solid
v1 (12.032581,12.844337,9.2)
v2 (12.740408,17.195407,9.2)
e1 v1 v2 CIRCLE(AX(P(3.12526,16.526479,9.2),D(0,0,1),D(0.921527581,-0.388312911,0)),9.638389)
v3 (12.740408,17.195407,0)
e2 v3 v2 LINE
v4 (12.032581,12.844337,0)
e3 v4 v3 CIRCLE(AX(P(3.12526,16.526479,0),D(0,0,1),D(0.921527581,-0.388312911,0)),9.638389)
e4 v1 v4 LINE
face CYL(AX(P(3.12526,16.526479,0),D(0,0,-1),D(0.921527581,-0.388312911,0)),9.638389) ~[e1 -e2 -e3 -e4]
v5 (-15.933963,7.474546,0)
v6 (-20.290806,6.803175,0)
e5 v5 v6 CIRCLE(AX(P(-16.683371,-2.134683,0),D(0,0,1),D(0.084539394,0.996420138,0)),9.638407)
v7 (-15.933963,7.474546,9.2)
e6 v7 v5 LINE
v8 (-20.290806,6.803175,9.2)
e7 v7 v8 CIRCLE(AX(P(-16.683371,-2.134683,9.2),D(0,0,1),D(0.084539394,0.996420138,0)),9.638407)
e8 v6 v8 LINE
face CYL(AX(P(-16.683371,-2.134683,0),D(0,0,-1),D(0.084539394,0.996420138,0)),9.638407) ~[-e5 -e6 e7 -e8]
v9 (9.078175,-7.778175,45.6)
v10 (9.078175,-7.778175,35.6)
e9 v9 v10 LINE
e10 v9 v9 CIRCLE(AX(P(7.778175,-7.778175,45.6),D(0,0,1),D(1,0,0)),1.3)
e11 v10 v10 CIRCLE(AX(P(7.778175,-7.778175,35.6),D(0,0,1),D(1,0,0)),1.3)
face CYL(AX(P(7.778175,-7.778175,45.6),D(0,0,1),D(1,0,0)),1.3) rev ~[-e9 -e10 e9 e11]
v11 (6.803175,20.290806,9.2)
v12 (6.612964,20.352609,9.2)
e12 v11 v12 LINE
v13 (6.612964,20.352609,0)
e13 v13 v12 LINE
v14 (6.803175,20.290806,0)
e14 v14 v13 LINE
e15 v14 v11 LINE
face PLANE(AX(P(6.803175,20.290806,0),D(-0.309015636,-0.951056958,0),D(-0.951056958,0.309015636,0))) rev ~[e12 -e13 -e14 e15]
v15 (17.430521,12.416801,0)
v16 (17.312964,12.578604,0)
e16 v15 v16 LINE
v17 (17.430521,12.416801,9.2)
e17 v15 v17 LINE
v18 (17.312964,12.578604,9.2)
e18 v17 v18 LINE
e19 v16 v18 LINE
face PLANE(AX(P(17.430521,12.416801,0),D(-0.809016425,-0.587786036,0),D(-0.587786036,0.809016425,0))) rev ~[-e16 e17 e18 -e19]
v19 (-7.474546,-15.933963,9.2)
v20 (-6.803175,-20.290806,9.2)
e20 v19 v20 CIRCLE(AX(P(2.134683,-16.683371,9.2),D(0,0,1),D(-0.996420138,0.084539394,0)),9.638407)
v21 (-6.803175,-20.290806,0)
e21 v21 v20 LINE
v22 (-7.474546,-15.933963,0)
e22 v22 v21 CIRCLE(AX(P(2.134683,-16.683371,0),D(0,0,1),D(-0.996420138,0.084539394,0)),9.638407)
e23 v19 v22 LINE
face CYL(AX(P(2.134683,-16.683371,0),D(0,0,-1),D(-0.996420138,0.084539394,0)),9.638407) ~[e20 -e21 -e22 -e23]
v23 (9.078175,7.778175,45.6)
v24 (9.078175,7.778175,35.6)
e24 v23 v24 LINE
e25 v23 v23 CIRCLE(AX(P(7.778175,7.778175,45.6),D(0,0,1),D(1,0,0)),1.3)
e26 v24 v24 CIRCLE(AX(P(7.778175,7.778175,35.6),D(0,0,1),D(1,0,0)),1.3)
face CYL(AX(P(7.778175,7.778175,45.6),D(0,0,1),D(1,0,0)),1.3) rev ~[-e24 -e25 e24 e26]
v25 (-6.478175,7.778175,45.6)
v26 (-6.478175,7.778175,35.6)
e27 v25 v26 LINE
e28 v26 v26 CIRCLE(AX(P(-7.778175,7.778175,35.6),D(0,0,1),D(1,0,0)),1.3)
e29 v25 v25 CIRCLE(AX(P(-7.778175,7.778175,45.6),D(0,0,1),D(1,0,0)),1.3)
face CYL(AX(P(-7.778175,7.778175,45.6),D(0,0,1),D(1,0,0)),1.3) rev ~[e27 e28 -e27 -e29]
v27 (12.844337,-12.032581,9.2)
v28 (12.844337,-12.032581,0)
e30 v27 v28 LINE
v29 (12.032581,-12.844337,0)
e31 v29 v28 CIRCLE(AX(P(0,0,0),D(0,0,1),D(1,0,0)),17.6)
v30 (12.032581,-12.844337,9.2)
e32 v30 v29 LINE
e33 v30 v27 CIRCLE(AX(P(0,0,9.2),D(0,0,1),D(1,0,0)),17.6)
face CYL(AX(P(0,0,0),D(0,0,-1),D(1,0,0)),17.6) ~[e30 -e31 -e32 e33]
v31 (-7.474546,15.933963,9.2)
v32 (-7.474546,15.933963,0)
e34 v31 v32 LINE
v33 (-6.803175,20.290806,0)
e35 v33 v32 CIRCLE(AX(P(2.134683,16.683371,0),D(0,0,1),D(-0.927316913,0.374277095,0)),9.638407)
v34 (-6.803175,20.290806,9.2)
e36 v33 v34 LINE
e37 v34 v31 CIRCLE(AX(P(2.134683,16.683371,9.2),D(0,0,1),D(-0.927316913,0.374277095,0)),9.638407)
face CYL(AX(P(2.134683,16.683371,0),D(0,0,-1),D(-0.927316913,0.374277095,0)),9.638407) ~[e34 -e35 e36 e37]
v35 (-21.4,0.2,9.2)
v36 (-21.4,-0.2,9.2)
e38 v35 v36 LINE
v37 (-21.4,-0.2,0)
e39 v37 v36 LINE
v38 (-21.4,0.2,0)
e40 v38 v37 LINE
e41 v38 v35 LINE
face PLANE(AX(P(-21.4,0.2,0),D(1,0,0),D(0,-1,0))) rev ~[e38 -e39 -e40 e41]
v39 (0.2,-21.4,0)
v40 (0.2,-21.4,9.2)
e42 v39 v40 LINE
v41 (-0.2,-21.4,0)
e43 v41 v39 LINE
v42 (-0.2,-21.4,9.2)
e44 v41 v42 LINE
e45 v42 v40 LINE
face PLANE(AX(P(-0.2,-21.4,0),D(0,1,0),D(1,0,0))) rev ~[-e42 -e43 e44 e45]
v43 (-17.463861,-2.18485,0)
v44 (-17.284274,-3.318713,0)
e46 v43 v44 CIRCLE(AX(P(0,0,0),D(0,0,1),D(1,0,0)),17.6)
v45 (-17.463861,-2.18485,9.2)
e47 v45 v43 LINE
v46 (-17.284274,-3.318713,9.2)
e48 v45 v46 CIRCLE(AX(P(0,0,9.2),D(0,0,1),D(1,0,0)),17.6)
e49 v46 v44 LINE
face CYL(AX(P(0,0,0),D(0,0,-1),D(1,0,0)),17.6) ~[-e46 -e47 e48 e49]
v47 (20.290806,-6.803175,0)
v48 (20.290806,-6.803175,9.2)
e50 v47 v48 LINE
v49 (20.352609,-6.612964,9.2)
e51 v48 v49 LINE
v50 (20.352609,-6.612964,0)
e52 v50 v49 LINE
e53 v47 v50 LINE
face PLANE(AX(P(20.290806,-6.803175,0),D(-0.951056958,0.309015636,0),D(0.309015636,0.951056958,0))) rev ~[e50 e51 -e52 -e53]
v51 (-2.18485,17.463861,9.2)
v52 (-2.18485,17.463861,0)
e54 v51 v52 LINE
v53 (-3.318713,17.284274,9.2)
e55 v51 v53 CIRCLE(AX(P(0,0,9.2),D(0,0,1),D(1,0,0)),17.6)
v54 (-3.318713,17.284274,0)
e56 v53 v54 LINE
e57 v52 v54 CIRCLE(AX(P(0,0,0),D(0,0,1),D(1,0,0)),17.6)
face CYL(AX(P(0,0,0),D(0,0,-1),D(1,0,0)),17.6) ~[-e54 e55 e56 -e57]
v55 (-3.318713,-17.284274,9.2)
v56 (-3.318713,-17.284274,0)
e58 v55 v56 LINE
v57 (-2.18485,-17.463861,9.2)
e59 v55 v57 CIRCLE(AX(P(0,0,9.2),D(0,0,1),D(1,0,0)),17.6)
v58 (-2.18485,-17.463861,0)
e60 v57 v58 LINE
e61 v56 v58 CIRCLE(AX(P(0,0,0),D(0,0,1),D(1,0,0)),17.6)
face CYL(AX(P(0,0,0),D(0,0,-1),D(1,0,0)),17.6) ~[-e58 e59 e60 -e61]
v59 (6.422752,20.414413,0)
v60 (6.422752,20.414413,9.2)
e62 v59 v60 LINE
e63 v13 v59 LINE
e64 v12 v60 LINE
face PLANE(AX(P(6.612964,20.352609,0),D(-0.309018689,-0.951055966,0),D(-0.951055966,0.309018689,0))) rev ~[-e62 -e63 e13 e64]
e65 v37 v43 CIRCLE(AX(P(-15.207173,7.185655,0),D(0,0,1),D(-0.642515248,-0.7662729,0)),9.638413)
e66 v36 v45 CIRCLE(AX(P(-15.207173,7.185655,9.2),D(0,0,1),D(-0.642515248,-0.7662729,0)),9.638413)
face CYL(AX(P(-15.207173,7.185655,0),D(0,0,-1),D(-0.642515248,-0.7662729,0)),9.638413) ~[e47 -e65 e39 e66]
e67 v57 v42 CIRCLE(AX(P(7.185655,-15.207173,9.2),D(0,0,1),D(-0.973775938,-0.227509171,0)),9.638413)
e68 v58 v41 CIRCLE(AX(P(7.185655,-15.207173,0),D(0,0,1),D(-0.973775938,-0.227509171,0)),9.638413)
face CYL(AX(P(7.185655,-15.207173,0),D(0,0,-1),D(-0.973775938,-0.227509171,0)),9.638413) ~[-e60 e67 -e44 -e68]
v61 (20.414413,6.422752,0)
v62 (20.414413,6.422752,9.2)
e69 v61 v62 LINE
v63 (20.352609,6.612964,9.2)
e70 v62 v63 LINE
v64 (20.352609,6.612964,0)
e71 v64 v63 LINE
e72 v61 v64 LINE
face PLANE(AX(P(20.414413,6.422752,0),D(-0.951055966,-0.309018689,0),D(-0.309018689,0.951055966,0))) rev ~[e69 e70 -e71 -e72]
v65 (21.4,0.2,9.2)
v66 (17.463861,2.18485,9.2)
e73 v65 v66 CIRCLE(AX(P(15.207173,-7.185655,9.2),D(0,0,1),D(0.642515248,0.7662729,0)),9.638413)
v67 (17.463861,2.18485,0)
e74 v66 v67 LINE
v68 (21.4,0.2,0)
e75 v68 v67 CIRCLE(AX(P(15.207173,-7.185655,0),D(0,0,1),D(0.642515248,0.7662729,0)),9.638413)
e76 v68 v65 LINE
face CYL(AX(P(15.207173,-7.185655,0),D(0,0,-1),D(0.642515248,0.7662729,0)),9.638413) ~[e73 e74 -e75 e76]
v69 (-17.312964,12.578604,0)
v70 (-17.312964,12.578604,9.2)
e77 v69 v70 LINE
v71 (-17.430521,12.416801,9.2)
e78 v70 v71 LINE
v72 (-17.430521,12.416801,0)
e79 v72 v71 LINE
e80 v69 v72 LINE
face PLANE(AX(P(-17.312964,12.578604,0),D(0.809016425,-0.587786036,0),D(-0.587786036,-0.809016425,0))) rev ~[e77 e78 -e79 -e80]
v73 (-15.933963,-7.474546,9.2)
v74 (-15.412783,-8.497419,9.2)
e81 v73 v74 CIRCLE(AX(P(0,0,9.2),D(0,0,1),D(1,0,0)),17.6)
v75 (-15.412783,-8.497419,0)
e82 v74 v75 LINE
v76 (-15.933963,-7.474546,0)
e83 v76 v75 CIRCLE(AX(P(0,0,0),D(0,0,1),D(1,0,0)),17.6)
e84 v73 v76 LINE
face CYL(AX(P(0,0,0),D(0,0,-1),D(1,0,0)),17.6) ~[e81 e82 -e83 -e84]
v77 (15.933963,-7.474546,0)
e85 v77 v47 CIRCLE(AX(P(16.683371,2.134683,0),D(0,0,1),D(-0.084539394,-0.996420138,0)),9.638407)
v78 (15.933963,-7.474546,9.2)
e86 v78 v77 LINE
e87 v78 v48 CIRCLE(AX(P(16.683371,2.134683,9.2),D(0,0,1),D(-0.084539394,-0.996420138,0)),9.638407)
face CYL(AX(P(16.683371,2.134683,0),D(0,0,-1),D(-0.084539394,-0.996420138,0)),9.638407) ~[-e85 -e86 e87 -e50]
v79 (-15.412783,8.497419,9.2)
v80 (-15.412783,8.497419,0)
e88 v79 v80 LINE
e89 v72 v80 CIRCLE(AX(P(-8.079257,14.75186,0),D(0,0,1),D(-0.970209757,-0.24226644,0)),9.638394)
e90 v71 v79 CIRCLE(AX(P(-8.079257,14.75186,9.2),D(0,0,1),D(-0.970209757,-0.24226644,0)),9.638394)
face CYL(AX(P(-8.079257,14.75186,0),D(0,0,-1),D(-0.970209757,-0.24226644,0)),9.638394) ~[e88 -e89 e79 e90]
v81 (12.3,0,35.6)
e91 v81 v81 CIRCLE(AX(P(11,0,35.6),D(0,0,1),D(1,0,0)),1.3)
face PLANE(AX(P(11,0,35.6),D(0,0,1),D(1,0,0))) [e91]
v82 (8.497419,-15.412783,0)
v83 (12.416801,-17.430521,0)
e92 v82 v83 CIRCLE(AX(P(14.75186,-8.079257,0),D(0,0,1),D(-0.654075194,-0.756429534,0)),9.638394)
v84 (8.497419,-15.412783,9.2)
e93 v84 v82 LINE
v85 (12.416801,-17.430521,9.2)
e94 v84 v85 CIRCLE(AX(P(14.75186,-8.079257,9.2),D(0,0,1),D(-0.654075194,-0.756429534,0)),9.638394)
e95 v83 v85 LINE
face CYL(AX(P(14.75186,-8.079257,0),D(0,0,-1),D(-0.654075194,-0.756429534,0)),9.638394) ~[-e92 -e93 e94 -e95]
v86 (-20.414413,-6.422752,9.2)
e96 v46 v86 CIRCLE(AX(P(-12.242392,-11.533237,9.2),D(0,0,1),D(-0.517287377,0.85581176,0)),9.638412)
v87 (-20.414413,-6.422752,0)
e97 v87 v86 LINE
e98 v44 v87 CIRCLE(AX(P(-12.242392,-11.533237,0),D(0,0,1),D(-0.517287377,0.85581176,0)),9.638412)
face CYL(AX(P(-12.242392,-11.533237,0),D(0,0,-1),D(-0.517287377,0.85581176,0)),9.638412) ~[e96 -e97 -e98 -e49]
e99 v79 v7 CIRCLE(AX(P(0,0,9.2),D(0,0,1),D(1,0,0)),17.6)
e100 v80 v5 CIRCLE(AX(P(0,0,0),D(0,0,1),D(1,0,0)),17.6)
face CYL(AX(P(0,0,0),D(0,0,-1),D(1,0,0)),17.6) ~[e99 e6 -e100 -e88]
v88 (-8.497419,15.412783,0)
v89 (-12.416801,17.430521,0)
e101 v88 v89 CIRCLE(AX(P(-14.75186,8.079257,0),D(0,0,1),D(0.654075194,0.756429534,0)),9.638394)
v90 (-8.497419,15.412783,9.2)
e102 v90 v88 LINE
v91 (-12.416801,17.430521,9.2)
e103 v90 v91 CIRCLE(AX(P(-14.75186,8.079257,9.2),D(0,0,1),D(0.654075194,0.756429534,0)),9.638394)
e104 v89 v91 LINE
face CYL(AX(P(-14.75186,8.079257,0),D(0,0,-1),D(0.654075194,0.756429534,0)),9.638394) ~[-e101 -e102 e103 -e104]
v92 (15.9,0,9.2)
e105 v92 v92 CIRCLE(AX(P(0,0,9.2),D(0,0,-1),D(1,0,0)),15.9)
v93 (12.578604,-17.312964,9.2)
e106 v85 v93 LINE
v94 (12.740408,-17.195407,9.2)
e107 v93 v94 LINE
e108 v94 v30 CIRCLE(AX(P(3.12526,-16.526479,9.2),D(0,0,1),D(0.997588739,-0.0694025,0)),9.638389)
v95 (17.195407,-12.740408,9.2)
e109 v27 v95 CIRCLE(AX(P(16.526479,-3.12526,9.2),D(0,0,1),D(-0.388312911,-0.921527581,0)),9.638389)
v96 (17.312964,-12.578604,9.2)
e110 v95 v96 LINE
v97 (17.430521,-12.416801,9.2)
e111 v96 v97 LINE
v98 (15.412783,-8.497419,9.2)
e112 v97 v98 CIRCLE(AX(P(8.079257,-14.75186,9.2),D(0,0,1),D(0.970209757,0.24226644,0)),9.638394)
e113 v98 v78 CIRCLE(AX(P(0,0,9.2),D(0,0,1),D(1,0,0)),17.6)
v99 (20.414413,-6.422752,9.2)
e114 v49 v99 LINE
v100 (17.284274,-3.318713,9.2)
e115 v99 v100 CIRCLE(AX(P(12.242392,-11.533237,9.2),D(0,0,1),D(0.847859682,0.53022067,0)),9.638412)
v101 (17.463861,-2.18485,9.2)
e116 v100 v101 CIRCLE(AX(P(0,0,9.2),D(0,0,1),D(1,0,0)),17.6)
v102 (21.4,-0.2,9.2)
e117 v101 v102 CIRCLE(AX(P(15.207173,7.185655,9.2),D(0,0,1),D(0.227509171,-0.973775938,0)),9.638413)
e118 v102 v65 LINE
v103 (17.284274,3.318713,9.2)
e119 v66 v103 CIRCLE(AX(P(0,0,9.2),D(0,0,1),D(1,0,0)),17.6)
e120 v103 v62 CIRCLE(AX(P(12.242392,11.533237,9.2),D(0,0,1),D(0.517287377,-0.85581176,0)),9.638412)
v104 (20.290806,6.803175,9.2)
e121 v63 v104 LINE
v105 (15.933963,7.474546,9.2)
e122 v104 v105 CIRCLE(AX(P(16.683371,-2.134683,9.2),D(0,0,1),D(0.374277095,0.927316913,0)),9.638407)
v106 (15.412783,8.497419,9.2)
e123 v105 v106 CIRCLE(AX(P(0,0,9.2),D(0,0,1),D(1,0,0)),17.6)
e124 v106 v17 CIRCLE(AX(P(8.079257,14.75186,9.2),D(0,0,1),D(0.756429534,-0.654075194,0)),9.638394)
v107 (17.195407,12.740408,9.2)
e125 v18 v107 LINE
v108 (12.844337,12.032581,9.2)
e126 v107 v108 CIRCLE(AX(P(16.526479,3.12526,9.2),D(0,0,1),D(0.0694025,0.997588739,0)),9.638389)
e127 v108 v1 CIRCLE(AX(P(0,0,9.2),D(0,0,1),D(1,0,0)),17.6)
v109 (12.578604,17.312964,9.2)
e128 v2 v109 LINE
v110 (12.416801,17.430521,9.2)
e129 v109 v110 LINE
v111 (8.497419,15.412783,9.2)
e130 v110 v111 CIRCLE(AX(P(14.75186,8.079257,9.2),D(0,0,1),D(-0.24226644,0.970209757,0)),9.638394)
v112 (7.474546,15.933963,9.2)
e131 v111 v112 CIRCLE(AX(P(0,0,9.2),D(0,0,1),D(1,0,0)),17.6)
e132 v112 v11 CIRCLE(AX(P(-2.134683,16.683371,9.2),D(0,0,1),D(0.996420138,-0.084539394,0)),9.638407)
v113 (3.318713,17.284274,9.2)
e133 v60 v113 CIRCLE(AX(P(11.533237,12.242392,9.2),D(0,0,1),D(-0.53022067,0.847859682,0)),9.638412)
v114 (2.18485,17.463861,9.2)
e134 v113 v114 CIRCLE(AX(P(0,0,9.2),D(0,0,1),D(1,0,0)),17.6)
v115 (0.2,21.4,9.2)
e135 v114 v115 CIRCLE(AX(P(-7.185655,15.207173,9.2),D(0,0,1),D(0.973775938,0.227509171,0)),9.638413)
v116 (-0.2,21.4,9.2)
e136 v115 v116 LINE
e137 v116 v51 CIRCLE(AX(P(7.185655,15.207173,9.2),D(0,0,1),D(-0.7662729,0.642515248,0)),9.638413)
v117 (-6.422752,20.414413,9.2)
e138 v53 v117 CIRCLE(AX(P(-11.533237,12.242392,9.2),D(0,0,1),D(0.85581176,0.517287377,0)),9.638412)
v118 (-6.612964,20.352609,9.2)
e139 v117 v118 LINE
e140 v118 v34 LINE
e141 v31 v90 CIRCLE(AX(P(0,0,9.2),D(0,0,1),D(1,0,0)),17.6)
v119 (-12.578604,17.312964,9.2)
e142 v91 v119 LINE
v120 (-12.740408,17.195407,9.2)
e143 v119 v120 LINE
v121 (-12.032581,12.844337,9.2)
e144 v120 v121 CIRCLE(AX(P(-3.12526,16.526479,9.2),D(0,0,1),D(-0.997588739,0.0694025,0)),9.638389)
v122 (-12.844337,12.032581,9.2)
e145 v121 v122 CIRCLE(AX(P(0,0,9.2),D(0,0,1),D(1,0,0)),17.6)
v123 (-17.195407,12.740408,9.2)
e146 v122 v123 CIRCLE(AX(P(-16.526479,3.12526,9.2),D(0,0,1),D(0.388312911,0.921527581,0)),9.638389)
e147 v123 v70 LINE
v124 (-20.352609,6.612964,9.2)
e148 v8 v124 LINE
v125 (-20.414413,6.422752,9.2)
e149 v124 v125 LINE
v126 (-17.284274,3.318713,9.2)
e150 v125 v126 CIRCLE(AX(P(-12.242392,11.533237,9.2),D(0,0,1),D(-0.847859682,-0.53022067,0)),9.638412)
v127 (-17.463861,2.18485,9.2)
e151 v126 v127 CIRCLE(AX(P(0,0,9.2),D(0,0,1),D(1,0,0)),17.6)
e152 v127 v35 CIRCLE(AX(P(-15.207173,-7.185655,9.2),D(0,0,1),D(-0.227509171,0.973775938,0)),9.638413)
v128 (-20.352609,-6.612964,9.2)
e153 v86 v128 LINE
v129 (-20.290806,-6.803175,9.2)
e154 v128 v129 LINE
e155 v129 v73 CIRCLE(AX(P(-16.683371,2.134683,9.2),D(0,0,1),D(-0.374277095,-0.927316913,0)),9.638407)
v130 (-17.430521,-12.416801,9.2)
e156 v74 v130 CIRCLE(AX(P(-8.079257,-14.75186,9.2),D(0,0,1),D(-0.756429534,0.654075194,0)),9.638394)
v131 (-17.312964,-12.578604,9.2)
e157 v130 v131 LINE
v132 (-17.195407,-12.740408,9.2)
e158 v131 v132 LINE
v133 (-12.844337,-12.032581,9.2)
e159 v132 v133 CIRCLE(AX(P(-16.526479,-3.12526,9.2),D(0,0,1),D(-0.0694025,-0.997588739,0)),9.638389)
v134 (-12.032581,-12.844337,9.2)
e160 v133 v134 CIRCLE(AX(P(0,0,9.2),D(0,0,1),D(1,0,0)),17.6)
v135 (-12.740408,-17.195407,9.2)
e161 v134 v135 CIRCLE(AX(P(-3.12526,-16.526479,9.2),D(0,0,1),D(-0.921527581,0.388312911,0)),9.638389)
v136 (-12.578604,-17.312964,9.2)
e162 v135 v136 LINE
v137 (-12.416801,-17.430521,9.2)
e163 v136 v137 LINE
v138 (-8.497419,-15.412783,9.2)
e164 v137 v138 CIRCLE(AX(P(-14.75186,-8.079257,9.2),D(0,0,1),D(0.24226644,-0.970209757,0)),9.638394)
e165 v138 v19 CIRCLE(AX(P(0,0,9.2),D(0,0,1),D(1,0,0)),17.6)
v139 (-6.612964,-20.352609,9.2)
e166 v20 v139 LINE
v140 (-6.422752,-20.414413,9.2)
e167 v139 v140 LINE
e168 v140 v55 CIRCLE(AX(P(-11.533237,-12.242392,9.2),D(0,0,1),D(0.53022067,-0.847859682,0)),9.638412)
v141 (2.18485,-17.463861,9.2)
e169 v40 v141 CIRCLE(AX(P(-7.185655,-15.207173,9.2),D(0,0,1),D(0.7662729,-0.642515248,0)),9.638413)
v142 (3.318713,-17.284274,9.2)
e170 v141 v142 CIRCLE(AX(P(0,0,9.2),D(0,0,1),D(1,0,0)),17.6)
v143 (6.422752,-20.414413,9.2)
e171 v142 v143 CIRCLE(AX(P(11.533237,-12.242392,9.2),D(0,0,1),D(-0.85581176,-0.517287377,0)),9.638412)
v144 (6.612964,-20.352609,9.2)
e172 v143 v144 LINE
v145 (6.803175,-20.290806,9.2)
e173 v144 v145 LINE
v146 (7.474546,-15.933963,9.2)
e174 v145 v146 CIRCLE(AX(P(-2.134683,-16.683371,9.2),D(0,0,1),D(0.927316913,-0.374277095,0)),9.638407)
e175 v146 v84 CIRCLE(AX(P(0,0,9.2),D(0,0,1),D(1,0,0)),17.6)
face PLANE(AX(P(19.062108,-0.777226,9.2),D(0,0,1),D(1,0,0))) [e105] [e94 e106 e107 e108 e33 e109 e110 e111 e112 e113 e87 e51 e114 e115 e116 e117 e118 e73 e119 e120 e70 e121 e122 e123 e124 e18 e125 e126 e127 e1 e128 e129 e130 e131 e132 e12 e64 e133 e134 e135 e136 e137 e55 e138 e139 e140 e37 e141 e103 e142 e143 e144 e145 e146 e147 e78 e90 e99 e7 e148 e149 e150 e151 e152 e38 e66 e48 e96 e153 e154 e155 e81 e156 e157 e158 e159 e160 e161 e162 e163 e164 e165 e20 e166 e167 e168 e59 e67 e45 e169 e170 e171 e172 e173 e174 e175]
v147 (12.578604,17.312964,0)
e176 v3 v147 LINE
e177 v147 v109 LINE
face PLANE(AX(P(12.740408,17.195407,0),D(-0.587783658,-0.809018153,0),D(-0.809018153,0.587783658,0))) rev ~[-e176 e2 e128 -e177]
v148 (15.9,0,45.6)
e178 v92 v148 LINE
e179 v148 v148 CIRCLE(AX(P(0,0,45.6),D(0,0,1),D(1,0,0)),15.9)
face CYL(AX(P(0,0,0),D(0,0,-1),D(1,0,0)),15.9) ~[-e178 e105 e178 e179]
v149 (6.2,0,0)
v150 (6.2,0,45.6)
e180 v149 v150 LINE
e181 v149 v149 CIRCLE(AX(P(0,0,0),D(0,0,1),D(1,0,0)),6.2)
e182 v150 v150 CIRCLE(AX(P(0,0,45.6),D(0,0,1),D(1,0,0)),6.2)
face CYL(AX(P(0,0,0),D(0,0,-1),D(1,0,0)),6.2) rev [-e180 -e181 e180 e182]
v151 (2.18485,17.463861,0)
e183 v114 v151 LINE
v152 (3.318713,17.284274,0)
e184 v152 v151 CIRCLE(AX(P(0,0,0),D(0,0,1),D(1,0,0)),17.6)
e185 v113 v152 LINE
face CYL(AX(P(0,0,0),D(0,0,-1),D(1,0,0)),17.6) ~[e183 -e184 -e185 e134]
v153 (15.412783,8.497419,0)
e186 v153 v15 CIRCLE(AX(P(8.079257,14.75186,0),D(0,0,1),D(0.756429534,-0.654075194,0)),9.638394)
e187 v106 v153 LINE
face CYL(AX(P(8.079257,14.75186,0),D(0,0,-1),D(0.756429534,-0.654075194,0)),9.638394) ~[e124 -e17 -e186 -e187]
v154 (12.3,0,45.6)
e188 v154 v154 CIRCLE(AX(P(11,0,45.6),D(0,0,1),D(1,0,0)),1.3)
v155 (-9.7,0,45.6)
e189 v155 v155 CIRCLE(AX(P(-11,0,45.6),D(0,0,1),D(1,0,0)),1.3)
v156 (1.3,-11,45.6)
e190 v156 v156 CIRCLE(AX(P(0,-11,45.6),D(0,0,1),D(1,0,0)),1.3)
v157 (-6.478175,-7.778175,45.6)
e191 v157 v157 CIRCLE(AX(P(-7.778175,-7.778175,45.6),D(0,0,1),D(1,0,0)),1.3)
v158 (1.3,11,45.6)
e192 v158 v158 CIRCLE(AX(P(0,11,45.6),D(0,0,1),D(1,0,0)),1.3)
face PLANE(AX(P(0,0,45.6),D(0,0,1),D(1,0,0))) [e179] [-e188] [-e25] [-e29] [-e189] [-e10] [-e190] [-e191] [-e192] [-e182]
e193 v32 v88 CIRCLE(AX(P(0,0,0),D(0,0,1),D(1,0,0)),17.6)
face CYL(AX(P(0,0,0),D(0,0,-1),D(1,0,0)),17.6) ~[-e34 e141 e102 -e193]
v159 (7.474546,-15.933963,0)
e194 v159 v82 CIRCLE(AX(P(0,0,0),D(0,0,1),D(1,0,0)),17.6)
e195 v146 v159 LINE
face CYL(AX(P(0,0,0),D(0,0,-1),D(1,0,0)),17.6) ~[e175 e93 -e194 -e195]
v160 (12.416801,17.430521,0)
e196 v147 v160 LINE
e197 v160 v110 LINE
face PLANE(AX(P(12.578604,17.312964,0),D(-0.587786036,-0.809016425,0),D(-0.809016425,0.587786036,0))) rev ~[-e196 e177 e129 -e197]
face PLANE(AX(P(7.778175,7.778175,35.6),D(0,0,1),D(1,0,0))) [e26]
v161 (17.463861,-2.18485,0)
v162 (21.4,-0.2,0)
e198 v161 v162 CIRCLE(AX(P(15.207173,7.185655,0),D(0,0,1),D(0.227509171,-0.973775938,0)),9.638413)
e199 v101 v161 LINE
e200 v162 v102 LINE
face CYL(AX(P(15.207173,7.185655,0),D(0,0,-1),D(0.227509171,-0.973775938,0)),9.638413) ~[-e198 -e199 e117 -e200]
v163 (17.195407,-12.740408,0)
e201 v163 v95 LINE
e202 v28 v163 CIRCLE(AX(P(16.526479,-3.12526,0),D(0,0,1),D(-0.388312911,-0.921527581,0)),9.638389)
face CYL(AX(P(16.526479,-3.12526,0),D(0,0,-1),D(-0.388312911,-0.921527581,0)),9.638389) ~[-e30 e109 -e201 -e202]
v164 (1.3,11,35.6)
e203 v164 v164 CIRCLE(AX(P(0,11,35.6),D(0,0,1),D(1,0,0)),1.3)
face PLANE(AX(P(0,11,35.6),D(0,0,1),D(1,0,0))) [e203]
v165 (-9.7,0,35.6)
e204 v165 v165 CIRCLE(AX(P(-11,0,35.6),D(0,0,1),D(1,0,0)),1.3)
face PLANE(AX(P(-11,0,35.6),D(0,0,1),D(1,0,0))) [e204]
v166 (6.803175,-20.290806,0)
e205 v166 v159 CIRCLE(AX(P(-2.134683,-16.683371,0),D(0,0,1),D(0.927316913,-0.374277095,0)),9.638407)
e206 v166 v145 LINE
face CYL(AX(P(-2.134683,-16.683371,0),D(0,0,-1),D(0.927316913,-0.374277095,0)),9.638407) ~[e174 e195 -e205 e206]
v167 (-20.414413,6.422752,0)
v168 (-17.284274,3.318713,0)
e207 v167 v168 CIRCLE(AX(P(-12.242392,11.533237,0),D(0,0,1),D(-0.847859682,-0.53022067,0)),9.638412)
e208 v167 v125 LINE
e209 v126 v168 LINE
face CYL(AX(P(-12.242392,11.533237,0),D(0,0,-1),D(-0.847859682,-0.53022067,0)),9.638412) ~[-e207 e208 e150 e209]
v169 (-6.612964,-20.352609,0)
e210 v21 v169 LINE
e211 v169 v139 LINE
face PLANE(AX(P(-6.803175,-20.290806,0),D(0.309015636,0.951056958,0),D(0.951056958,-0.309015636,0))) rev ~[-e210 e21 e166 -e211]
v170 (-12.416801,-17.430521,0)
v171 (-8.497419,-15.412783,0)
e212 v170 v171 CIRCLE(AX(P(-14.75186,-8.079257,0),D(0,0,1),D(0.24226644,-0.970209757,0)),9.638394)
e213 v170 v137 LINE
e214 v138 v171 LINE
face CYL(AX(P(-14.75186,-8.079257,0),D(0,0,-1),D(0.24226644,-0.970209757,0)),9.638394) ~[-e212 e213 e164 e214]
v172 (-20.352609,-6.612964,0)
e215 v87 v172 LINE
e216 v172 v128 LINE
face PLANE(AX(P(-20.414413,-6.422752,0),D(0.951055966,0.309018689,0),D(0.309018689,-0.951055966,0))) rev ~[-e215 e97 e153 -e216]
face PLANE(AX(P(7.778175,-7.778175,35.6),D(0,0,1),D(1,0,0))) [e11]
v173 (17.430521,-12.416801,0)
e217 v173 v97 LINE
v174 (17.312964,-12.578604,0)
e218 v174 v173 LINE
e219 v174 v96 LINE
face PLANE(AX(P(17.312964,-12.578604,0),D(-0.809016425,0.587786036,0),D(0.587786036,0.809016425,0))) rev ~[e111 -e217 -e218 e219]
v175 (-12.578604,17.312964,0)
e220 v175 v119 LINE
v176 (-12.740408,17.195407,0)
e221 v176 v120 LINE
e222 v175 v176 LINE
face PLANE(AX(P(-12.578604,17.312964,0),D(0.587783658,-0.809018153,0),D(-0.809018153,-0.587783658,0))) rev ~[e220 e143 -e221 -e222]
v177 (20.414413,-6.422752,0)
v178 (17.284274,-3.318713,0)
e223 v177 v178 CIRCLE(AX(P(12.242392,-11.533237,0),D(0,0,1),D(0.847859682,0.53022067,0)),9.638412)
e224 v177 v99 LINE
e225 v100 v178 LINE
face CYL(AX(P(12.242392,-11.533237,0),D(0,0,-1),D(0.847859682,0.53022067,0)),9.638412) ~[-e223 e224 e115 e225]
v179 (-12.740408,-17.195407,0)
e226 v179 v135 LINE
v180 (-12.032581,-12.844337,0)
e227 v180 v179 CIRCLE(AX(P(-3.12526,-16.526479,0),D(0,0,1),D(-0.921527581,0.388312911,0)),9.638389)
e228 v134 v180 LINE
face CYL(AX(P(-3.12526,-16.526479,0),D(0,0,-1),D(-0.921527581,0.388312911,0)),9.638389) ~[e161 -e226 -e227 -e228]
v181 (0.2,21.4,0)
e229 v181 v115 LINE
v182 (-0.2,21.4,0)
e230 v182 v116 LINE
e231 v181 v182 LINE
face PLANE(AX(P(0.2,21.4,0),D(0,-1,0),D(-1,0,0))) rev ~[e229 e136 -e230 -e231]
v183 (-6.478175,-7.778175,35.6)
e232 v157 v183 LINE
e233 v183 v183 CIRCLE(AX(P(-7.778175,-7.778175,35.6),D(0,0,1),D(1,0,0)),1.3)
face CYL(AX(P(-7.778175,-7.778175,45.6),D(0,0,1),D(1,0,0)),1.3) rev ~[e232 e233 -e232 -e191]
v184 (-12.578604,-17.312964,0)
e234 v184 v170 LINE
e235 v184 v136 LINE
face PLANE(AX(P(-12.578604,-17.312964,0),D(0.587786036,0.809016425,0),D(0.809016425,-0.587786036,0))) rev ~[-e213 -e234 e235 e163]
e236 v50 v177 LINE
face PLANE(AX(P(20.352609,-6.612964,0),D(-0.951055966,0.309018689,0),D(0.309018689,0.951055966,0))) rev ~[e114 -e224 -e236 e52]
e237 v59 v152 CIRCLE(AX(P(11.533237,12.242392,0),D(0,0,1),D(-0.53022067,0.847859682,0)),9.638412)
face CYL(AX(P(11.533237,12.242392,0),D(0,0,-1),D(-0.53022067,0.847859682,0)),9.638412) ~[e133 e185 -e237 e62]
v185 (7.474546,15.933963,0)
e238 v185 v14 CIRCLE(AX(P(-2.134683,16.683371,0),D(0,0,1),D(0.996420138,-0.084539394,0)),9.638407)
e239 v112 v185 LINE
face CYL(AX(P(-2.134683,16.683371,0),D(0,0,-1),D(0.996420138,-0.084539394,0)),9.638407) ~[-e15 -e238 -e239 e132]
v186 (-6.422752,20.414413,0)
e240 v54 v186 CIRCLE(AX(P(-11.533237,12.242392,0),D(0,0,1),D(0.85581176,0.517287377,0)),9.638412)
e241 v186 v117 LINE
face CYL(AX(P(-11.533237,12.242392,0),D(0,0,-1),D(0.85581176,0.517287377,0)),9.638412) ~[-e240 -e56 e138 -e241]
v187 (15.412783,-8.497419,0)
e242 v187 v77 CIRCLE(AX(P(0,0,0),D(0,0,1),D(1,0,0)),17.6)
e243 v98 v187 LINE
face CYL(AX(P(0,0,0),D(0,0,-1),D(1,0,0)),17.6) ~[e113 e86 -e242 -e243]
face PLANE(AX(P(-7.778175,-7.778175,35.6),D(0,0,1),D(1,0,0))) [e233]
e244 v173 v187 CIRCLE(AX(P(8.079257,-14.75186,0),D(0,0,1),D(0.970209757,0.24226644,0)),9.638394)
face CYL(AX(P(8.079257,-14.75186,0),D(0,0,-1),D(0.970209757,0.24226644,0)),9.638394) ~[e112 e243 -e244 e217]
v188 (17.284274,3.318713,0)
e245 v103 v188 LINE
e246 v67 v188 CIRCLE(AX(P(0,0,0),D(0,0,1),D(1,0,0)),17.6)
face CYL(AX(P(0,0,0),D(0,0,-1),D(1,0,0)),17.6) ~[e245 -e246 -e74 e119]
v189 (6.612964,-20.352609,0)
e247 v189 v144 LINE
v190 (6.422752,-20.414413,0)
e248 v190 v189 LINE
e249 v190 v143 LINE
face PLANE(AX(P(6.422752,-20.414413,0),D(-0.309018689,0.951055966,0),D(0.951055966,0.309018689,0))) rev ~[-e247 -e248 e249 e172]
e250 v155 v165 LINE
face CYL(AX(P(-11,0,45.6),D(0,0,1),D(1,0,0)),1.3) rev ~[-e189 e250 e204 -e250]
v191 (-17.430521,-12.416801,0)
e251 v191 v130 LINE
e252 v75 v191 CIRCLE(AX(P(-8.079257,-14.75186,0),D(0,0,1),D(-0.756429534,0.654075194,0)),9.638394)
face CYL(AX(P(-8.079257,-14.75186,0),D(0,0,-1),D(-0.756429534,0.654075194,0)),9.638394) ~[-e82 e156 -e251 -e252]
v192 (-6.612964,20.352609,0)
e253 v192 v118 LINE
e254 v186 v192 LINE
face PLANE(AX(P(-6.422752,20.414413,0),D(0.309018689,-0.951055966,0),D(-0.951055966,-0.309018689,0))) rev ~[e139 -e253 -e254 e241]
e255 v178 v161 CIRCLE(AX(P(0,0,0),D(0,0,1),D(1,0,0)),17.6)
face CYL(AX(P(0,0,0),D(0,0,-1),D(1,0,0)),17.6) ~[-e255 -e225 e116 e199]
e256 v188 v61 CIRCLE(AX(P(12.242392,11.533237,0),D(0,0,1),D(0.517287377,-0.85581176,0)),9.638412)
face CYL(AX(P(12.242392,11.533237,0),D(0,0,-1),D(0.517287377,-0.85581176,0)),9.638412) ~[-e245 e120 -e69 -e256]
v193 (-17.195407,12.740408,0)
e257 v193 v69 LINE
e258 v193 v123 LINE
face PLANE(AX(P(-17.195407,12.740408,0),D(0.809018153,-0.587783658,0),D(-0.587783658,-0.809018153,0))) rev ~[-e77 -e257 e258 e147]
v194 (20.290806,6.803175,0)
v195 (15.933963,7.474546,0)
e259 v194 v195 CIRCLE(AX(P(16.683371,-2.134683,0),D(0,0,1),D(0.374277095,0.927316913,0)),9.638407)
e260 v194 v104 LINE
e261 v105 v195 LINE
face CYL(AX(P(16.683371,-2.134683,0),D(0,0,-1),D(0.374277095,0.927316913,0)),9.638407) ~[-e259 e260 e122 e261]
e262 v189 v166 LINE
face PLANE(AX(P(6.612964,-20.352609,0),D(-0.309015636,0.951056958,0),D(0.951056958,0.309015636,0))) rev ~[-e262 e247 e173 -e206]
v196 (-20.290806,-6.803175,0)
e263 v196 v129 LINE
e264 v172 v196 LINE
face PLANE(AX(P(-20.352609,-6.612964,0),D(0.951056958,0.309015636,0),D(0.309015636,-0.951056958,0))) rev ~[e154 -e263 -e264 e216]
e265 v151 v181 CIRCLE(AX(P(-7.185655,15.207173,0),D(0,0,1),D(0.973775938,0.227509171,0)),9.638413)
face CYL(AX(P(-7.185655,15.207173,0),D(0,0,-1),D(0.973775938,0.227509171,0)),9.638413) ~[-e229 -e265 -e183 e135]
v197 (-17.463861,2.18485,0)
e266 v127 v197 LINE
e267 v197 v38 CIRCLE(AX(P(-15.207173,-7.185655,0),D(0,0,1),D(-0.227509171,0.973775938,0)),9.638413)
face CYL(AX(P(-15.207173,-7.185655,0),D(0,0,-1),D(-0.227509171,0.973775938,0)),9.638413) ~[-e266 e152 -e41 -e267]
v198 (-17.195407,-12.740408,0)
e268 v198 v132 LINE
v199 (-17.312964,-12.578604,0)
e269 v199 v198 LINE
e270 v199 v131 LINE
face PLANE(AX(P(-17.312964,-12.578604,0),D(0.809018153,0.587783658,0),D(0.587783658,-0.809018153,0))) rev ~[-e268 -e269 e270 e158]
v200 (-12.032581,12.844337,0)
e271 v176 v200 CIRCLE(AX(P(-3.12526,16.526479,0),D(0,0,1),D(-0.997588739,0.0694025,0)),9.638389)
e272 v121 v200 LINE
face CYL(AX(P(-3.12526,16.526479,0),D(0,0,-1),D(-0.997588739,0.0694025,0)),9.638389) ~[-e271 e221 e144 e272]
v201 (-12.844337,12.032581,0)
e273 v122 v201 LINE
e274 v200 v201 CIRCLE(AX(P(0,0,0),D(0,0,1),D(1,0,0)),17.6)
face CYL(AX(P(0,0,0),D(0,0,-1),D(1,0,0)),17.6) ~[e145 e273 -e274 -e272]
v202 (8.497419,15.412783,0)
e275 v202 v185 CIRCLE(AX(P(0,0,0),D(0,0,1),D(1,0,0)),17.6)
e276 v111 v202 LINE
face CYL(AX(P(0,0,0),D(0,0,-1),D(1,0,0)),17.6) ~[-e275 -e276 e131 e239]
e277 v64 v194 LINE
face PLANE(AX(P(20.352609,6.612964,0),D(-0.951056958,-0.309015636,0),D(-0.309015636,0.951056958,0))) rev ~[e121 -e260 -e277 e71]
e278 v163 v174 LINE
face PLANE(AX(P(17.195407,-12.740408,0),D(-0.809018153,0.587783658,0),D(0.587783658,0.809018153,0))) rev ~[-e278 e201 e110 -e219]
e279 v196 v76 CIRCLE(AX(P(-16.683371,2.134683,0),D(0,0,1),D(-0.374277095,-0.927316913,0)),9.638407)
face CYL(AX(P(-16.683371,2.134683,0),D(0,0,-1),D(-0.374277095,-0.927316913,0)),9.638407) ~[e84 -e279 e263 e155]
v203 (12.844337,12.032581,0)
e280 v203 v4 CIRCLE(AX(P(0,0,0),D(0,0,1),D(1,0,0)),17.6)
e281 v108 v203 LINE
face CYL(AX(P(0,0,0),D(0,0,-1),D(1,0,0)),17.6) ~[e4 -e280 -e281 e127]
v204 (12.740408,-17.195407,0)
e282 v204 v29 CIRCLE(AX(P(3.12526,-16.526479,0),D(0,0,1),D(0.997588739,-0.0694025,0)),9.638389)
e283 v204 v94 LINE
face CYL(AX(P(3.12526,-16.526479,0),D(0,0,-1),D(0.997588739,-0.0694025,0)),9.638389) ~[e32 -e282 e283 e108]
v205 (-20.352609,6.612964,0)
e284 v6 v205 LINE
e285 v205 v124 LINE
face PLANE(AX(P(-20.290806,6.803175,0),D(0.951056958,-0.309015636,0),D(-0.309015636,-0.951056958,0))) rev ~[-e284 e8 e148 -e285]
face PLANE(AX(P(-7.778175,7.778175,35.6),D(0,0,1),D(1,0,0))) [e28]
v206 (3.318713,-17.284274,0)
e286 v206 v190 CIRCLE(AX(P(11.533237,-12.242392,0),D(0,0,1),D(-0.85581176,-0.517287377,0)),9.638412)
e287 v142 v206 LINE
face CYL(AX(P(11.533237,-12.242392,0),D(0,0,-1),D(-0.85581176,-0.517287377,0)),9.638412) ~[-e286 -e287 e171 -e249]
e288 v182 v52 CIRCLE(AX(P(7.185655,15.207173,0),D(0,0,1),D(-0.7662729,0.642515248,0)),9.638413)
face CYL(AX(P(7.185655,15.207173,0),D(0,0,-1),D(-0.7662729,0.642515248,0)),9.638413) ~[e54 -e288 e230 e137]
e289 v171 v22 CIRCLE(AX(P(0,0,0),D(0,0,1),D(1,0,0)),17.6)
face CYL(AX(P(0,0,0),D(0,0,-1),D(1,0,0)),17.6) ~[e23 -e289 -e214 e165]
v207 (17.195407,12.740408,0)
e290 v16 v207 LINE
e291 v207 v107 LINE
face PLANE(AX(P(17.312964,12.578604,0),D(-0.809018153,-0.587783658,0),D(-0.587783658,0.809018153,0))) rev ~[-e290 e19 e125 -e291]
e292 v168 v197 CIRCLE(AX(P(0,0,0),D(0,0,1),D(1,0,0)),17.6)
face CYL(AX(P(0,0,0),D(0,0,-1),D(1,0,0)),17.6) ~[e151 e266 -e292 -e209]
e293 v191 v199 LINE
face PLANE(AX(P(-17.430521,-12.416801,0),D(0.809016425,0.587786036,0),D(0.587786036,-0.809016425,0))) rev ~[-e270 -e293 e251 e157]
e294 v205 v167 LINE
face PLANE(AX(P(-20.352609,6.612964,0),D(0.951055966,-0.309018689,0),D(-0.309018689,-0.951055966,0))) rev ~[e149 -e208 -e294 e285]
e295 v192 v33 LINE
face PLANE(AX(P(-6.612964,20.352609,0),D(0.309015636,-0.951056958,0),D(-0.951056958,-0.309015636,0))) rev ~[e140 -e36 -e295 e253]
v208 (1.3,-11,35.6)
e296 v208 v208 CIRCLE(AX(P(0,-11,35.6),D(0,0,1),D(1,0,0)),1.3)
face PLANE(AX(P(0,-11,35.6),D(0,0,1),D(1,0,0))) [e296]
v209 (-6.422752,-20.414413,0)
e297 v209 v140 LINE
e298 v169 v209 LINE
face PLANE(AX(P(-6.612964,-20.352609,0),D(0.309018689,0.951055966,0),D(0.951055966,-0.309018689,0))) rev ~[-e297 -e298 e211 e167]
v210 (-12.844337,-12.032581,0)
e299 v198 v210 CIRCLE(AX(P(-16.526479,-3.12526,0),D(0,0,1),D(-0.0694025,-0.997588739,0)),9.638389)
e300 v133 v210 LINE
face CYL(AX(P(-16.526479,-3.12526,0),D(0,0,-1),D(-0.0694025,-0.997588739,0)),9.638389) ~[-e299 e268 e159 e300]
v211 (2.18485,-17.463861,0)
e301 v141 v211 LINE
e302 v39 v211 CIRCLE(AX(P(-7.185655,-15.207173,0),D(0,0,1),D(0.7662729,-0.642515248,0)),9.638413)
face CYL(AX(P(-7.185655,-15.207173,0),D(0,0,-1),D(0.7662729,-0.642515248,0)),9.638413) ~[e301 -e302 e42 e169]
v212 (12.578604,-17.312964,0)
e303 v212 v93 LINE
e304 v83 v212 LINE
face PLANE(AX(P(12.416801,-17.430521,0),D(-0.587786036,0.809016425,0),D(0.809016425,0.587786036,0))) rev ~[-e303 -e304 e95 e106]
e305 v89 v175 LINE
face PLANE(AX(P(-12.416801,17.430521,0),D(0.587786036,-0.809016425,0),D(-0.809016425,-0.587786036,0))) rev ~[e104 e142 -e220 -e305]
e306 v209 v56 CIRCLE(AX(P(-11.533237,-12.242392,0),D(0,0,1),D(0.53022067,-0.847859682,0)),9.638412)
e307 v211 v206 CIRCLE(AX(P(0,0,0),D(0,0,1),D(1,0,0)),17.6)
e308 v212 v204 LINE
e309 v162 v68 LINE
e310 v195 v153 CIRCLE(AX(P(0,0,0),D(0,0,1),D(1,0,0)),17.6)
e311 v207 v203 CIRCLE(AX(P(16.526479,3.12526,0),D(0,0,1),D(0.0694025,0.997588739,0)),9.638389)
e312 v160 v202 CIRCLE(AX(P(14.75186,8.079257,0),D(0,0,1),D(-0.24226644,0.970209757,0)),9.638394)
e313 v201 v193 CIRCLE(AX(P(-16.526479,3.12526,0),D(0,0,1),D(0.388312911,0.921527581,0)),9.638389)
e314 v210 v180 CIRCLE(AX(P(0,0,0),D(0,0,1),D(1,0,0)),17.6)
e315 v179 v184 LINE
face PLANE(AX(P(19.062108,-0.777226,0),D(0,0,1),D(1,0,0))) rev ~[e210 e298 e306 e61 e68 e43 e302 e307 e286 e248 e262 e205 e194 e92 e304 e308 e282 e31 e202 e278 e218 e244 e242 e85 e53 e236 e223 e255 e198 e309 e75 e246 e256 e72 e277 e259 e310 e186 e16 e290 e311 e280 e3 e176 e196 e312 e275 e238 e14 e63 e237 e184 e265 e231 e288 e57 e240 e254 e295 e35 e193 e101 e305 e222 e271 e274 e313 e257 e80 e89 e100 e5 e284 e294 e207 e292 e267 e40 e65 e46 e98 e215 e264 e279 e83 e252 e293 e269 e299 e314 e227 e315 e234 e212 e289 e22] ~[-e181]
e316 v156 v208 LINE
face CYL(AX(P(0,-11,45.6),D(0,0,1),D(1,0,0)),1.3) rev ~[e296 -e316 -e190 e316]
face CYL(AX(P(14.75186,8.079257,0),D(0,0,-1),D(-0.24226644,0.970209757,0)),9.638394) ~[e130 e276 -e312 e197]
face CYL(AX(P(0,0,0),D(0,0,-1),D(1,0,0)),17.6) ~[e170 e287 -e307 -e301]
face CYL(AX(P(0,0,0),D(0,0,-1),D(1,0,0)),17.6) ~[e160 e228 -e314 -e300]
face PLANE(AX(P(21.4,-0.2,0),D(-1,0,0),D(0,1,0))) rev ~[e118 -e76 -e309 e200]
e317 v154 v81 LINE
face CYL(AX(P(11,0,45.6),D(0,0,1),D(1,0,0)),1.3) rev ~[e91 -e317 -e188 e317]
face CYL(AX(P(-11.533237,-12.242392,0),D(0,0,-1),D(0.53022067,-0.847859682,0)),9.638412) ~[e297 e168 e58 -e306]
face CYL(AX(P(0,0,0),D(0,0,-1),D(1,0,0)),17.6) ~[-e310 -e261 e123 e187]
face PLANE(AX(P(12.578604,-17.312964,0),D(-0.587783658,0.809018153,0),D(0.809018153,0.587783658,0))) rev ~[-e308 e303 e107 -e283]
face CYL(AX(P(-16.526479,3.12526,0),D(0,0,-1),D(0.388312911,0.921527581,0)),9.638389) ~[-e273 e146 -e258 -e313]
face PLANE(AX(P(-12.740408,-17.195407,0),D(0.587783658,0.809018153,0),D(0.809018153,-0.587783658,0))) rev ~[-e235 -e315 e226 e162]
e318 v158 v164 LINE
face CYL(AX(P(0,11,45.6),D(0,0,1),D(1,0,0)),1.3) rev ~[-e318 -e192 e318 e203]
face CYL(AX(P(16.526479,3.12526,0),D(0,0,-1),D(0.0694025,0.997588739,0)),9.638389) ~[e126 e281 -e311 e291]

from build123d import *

# Parameters (mm, degrees)
F0_R     = 15.9
F0_R_2   = 6.2
F1_DEPTH = 45.6
F2_R     = 1.3
F3_DEPTH = 10
F4_R     = 17.6
F4_R_2   = 6.2
F5_DEPTH = 9.2
F7_DEPTH = 9.2


with BuildPart() as f1:
    # F0 (on Top) → F1 (new body)
    with BuildSketch(Plane.XY):
        Circle(F0_R)
        Circle(F0_R_2, mode=Mode.SUBTRACT)
    extrude(amount=F1_DEPTH)

    # F2 (on face) → F3 (cut)
    with BuildSketch(Plane.XY.offset(45.6)):
        with Locations((11, 0)):
            Circle(F2_R)
        with Locations((7.778175, 7.778175)):
            Circle(F2_R)
        with Locations((0, 11)):
            Circle(F2_R)
        with Locations((-7.778175, 7.778175)):
            Circle(F2_R)
        with Locations((-11, 0)):
            Circle(F2_R)
        with Locations((-7.778175, -7.778175)):
            Circle(F2_R)
        with Locations((0, -11)):
            Circle(F2_R)
        with Locations((7.778175, -7.778175)):
            Circle(F2_R)
    extrude(amount=-F3_DEPTH, mode=Mode.SUBTRACT)

    # F4 (on Top) → F5 (join)
    with BuildSketch(Plane.XY):
        Circle(F4_R)
        Circle(F4_R_2, mode=Mode.SUBTRACT)
    extrude(amount=F5_DEPTH)

    # F6 (on Top) → F7 (join)
    with BuildSketch(Plane.XY):
        with BuildLine():
            Line((21.4, -0.2), (21.4, 0))
            Line((21.4, 0), (17.4, 0))
            Line((17.4, 0), (17.4, -2.2))
            ThreePointArc((17.4, -2.2), (19.517602, -1.435204), (21.4, -0.2))
        make_face()
        with BuildLine():
            Line((17.4, 0), (21.4, 0))
            Line((21.4, 0), (21.4, 0.2))
            ThreePointArc((21.4, 0.2), (19.517602, 1.435204), (17.4, 2.2))
            Line((17.4, 2.2), (17.4, 0))
        make_face()
        with BuildLine():
            Line((20.352609, 6.612964), (16.548383, 5.376896))
            Line((16.548383, 5.376896), (17.228221, 3.284571))
            ThreePointArc((17.228221, 3.284571), (19.005845, 4.66631), (20.414413, 6.422752))
            Line((20.414413, 6.422752), (20.352609, 6.612964))
        make_face()
        with BuildLine():
            Line((15.868546, 7.46922), (16.548383, 5.376896))
            Line((16.548383, 5.376896), (20.352609, 6.612964))
            Line((20.352609, 6.612964), (20.290806, 6.803175))
            ThreePointArc((20.290806, 6.803175), (18.11884, 7.396231), (15.868546, 7.46922))
        make_face()
        with BuildLine():
            Line((17.312964, 12.578604), (14.076896, 10.227463))
            Line((14.076896, 10.227463), (15.370023, 8.447626))
            ThreePointArc((15.370023, 8.447626), (16.633664, 10.311054), (17.430521, 12.416801))
            Line((17.430521, 12.416801), (17.312964, 12.578604))
        make_face()
        with BuildLine():
            Line((12.783768, 12.007301), (14.076896, 10.227463))
            Line((14.076896, 10.227463), (17.312964, 12.578604))
            Line((17.312964, 12.578604), (17.195407, 12.740408))
            ThreePointArc((17.195407, 12.740408), (14.94648, 12.633264), (12.783768, 12.007301))
        make_face()
        with BuildLine():
            Line((12.578604, 17.312964), (10.227463, 14.076896))
            Line((10.227463, 14.076896), (12.007301, 12.783768))
            ThreePointArc((12.007301, 12.783768), (12.633264, 14.94648), (12.740408, 17.195407))
            Line((12.740408, 17.195407), (12.578604, 17.312964))
        make_face()
        with BuildLine():
            Line((8.447626, 15.370023), (10.227463, 14.076896))
            Line((10.227463, 14.076896), (12.578604, 17.312964))
            Line((12.578604, 17.312964), (12.416801, 17.430521))
            ThreePointArc((12.416801, 17.430521), (10.311054, 16.633664), (8.447626, 15.370023))
        make_face()
        with BuildLine():
            Line((6.612964, 20.352609), (5.376896, 16.548383))
            Line((5.376896, 16.548383), (7.46922, 15.868546))
            ThreePointArc((7.46922, 15.868546), (7.396231, 18.11884), (6.803175, 20.290806))
            Line((6.803175, 20.290806), (6.612964, 20.352609))
        make_face()
        with BuildLine():
            Line((3.284571, 17.228221), (5.376896, 16.548383))
            Line((5.376896, 16.548383), (6.612964, 20.352609))
            Line((6.612964, 20.352609), (6.422752, 20.414413))
            ThreePointArc((6.422752, 20.414413), (4.66631, 19.005845), (3.284571, 17.228221))
        make_face()
        with BuildLine():
            Line((0, 21.4), (0, 17.4))
            Line((0, 17.4), (2.2, 17.4))
            ThreePointArc((2.2, 17.4), (1.435204, 19.517602), (0.2, 21.4))
            Line((0.2, 21.4), (0, 21.4))
        make_face()
        with BuildLine():
            Line((-2.2, 17.4), (0, 17.4))
            Line((0, 17.4), (0, 21.4))
            Line((0, 21.4), (-0.2, 21.4))
            ThreePointArc((-0.2, 21.4), (-1.435204, 19.517602), (-2.2, 17.4))
        make_face()
        with BuildLine():
            Line((-6.612964, 20.352609), (-5.376896, 16.548383))
            Line((-5.376896, 16.548383), (-3.284571, 17.228221))
            ThreePointArc((-3.284571, 17.228221), (-4.66631, 19.005845), (-6.422752, 20.414413))
            Line((-6.422752, 20.414413), (-6.612964, 20.352609))
        make_face()
        with BuildLine():
            Line((-7.46922, 15.868546), (-5.376896, 16.548383))
            Line((-5.376896, 16.548383), (-6.612964, 20.352609))
            Line((-6.612964, 20.352609), (-6.803175, 20.290806))
            ThreePointArc((-6.803175, 20.290806), (-7.396231, 18.11884), (-7.46922, 15.868546))
        make_face()
        with BuildLine():
            Line((-12.578604, 17.312964), (-10.227463, 14.076896))
            Line((-10.227463, 14.076896), (-8.447626, 15.370023))
            ThreePointArc((-8.447626, 15.370023), (-10.311054, 16.633664), (-12.416801, 17.430521))
            Line((-12.416801, 17.430521), (-12.578604, 17.312964))
        make_face()
        with BuildLine():
            Line((-12.007301, 12.783768), (-10.227463, 14.076896))
            Line((-10.227463, 14.076896), (-12.578604, 17.312964))
            Line((-12.578604, 17.312964), (-12.740408, 17.195407))
            ThreePointArc((-12.740408, 17.195407), (-12.633264, 14.94648), (-12.007301, 12.783768))
        make_face()
        with BuildLine():
            Line((-17.312964, 12.578604), (-14.076896, 10.227463))
            Line((-14.076896, 10.227463), (-12.783768, 12.007301))
            ThreePointArc((-12.783768, 12.007301), (-14.94648, 12.633264), (-17.195407, 12.740408))
            Line((-17.195407, 12.740408), (-17.312964, 12.578604))
        make_face()
        with BuildLine():
            Line((-15.370023, 8.447626), (-14.076896, 10.227463))
            Line((-14.076896, 10.227463), (-17.312964, 12.578604))
            Line((-17.312964, 12.578604), (-17.430521, 12.416801))
            ThreePointArc((-17.430521, 12.416801), (-16.633664, 10.311054), (-15.370023, 8.447626))
        make_face()
        with BuildLine():
            Line((-20.352609, 6.612964), (-16.548383, 5.376896))
            Line((-16.548383, 5.376896), (-15.868546, 7.46922))
            ThreePointArc((-15.868546, 7.46922), (-18.11884, 7.396231), (-20.290806, 6.803175))
            Line((-20.290806, 6.803175), (-20.352609, 6.612964))
        make_face()
        with BuildLine():
            Line((-17.228221, 3.284571), (-16.548383, 5.376896))
            Line((-16.548383, 5.376896), (-20.352609, 6.612964))
            Line((-20.352609, 6.612964), (-20.414413, 6.422752))
            ThreePointArc((-20.414413, 6.422752), (-19.005845, 4.66631), (-17.228221, 3.284571))
        make_face()
        with BuildLine():
            Line((-21.4, 0), (-17.4, 0))
            Line((-17.4, 0), (-17.4, 2.2))
            ThreePointArc((-17.4, 2.2), (-19.517602, 1.435204), (-21.4, 0.2))
            Line((-21.4, 0.2), (-21.4, 0))
        make_face()
        with BuildLine():
            Line((-17.4, -2.2), (-17.4, 0))
            Line((-17.4, 0), (-21.4, 0))
            Line((-21.4, 0), (-21.4, -0.2))
            ThreePointArc((-21.4, -0.2), (-19.517602, -1.435204), (-17.4, -2.2))
        make_face()
        with BuildLine():
            Line((-20.352609, -6.612964), (-16.548383, -5.376896))
            Line((-16.548383, -5.376896), (-17.228221, -3.284571))
            ThreePointArc((-17.228221, -3.284571), (-19.005845, -4.66631), (-20.414413, -6.422752))
            Line((-20.414413, -6.422752), (-20.352609, -6.612964))
        make_face()
        with BuildLine():
            Line((-15.868546, -7.46922), (-16.548383, -5.376896))
            Line((-16.548383, -5.376896), (-20.352609, -6.612964))
            Line((-20.352609, -6.612964), (-20.290806, -6.803175))
            ThreePointArc((-20.290806, -6.803175), (-18.11884, -7.396231), (-15.868546, -7.46922))
        make_face()
        with BuildLine():
            Line((-17.312964, -12.578604), (-14.076896, -10.227463))
            Line((-14.076896, -10.227463), (-15.370023, -8.447626))
            ThreePointArc((-15.370023, -8.447626), (-16.633664, -10.311054), (-17.430521, -12.416801))
            Line((-17.430521, -12.416801), (-17.312964, -12.578604))
        make_face()
        with BuildLine():
            Line((-12.783768, -12.007301), (-14.076896, -10.227463))
            Line((-14.076896, -10.227463), (-17.312964, -12.578604))
            Line((-17.312964, -12.578604), (-17.195407, -12.740408))
            ThreePointArc((-17.195407, -12.740408), (-14.94648, -12.633264), (-12.783768, -12.007301))
        make_face()
        with BuildLine():
            Line((-12.578604, -17.312964), (-10.227463, -14.076896))
            Line((-10.227463, -14.076896), (-12.007301, -12.783768))
            ThreePointArc((-12.007301, -12.783768), (-12.633264, -14.94648), (-12.740408, -17.195407))
            Line((-12.740408, -17.195407), (-12.578604, -17.312964))
        make_face()
        with BuildLine():
            Line((-8.447626, -15.370023), (-10.227463, -14.076896))
            Line((-10.227463, -14.076896), (-12.578604, -17.312964))
            Line((-12.578604, -17.312964), (-12.416801, -17.430521))
            ThreePointArc((-12.416801, -17.430521), (-10.311054, -16.633664), (-8.447626, -15.370023))
        make_face()
        with BuildLine():
            Line((-6.612964, -20.352609), (-5.376896, -16.548383))
            Line((-5.376896, -16.548383), (-7.46922, -15.868546))
            ThreePointArc((-7.46922, -15.868546), (-7.396231, -18.11884), (-6.803175, -20.290806))
            Line((-6.803175, -20.290806), (-6.612964, -20.352609))
        make_face()
        with BuildLine():
            Line((-3.284571, -17.228221), (-5.376896, -16.548383))
            Line((-5.376896, -16.548383), (-6.612964, -20.352609))
            Line((-6.612964, -20.352609), (-6.422752, -20.414413))
            ThreePointArc((-6.422752, -20.414413), (-4.66631, -19.005845), (-3.284571, -17.228221))
        make_face()
        with BuildLine():
            Line((0, -21.4), (0, -17.4))
            Line((0, -17.4), (-2.2, -17.4))
            ThreePointArc((-2.2, -17.4), (-1.435204, -19.517602), (-0.2, -21.4))
            Line((-0.2, -21.4), (0, -21.4))
        make_face()
        with BuildLine():
            Line((2.2, -17.4), (0, -17.4))
            Line((0, -17.4), (0, -21.4))
            Line((0, -21.4), (0.2, -21.4))
            ThreePointArc((0.2, -21.4), (1.435204, -19.517602), (2.2, -17.4))
        make_face()
        with BuildLine():
            Line((6.612964, -20.352609), (5.376896, -16.548383))
            Line((5.376896, -16.548383), (3.284571, -17.228221))
            ThreePointArc((3.284571, -17.228221), (4.66631, -19.005845), (6.422752, -20.414413))
            Line((6.422752, -20.414413), (6.612964, -20.352609))
        make_face()
        with BuildLine():
            Line((7.46922, -15.868546), (5.376896, -16.548383))
            Line((5.376896, -16.548383), (6.612964, -20.352609))
            Line((6.612964, -20.352609), (6.803175, -20.290806))
            ThreePointArc((6.803175, -20.290806), (7.396231, -18.11884), (7.46922, -15.868546))
        make_face()
        with BuildLine():
            Line((12.578604, -17.312964), (10.227463, -14.076896))
            Line((10.227463, -14.076896), (8.447626, -15.370023))
            ThreePointArc((8.447626, -15.370023), (10.311054, -16.633664), (12.416801, -17.430521))
            Line((12.416801, -17.430521), (12.578604, -17.312964))
        make_face()
        with BuildLine():
            Line((12.007301, -12.783768), (10.227463, -14.076896))
            Line((10.227463, -14.076896), (12.578604, -17.312964))
            Line((12.578604, -17.312964), (12.740408, -17.195407))
            ThreePointArc((12.740408, -17.195407), (12.633264, -14.94648), (12.007301, -12.783768))
        make_face()
        with BuildLine():
            Line((17.312964, -12.578604), (14.076896, -10.227463))
            Line((14.076896, -10.227463), (12.783768, -12.007301))
            ThreePointArc((12.783768, -12.007301), (14.94648, -12.633264), (17.195407, -12.740408))
            Line((17.195407, -12.740408), (17.312964, -12.578604))
        make_face()
        with BuildLine():
            Line((15.370023, -8.447626), (14.076896, -10.227463))
            Line((14.076896, -10.227463), (17.312964, -12.578604))
            Line((17.312964, -12.578604), (17.430521, -12.416801))
            ThreePointArc((17.430521, -12.416801), (16.633664, -10.311054), (15.370023, -8.447626))
        make_face()
        with BuildLine():
            Line((20.352609, -6.612964), (16.548383, -5.376896))
            Line((16.548383, -5.376896), (15.868546, -7.46922))
            ThreePointArc((15.868546, -7.46922), (18.11884, -7.396231), (20.290806, -6.803175))
            Line((20.290806, -6.803175), (20.352609, -6.612964))
        make_face()
        with BuildLine():
            Line((17.228221, -3.284571), (16.548383, -5.376896))
            Line((16.548383, -5.376896), (20.352609, -6.612964))
            Line((20.352609, -6.612964), (20.414413, -6.422752))
            ThreePointArc((20.414413, -6.422752), (19.005845, -4.66631), (17.228221, -3.284571))
        make_face()
    extrude(amount=F7_DEPTH)


solid = f1.part
